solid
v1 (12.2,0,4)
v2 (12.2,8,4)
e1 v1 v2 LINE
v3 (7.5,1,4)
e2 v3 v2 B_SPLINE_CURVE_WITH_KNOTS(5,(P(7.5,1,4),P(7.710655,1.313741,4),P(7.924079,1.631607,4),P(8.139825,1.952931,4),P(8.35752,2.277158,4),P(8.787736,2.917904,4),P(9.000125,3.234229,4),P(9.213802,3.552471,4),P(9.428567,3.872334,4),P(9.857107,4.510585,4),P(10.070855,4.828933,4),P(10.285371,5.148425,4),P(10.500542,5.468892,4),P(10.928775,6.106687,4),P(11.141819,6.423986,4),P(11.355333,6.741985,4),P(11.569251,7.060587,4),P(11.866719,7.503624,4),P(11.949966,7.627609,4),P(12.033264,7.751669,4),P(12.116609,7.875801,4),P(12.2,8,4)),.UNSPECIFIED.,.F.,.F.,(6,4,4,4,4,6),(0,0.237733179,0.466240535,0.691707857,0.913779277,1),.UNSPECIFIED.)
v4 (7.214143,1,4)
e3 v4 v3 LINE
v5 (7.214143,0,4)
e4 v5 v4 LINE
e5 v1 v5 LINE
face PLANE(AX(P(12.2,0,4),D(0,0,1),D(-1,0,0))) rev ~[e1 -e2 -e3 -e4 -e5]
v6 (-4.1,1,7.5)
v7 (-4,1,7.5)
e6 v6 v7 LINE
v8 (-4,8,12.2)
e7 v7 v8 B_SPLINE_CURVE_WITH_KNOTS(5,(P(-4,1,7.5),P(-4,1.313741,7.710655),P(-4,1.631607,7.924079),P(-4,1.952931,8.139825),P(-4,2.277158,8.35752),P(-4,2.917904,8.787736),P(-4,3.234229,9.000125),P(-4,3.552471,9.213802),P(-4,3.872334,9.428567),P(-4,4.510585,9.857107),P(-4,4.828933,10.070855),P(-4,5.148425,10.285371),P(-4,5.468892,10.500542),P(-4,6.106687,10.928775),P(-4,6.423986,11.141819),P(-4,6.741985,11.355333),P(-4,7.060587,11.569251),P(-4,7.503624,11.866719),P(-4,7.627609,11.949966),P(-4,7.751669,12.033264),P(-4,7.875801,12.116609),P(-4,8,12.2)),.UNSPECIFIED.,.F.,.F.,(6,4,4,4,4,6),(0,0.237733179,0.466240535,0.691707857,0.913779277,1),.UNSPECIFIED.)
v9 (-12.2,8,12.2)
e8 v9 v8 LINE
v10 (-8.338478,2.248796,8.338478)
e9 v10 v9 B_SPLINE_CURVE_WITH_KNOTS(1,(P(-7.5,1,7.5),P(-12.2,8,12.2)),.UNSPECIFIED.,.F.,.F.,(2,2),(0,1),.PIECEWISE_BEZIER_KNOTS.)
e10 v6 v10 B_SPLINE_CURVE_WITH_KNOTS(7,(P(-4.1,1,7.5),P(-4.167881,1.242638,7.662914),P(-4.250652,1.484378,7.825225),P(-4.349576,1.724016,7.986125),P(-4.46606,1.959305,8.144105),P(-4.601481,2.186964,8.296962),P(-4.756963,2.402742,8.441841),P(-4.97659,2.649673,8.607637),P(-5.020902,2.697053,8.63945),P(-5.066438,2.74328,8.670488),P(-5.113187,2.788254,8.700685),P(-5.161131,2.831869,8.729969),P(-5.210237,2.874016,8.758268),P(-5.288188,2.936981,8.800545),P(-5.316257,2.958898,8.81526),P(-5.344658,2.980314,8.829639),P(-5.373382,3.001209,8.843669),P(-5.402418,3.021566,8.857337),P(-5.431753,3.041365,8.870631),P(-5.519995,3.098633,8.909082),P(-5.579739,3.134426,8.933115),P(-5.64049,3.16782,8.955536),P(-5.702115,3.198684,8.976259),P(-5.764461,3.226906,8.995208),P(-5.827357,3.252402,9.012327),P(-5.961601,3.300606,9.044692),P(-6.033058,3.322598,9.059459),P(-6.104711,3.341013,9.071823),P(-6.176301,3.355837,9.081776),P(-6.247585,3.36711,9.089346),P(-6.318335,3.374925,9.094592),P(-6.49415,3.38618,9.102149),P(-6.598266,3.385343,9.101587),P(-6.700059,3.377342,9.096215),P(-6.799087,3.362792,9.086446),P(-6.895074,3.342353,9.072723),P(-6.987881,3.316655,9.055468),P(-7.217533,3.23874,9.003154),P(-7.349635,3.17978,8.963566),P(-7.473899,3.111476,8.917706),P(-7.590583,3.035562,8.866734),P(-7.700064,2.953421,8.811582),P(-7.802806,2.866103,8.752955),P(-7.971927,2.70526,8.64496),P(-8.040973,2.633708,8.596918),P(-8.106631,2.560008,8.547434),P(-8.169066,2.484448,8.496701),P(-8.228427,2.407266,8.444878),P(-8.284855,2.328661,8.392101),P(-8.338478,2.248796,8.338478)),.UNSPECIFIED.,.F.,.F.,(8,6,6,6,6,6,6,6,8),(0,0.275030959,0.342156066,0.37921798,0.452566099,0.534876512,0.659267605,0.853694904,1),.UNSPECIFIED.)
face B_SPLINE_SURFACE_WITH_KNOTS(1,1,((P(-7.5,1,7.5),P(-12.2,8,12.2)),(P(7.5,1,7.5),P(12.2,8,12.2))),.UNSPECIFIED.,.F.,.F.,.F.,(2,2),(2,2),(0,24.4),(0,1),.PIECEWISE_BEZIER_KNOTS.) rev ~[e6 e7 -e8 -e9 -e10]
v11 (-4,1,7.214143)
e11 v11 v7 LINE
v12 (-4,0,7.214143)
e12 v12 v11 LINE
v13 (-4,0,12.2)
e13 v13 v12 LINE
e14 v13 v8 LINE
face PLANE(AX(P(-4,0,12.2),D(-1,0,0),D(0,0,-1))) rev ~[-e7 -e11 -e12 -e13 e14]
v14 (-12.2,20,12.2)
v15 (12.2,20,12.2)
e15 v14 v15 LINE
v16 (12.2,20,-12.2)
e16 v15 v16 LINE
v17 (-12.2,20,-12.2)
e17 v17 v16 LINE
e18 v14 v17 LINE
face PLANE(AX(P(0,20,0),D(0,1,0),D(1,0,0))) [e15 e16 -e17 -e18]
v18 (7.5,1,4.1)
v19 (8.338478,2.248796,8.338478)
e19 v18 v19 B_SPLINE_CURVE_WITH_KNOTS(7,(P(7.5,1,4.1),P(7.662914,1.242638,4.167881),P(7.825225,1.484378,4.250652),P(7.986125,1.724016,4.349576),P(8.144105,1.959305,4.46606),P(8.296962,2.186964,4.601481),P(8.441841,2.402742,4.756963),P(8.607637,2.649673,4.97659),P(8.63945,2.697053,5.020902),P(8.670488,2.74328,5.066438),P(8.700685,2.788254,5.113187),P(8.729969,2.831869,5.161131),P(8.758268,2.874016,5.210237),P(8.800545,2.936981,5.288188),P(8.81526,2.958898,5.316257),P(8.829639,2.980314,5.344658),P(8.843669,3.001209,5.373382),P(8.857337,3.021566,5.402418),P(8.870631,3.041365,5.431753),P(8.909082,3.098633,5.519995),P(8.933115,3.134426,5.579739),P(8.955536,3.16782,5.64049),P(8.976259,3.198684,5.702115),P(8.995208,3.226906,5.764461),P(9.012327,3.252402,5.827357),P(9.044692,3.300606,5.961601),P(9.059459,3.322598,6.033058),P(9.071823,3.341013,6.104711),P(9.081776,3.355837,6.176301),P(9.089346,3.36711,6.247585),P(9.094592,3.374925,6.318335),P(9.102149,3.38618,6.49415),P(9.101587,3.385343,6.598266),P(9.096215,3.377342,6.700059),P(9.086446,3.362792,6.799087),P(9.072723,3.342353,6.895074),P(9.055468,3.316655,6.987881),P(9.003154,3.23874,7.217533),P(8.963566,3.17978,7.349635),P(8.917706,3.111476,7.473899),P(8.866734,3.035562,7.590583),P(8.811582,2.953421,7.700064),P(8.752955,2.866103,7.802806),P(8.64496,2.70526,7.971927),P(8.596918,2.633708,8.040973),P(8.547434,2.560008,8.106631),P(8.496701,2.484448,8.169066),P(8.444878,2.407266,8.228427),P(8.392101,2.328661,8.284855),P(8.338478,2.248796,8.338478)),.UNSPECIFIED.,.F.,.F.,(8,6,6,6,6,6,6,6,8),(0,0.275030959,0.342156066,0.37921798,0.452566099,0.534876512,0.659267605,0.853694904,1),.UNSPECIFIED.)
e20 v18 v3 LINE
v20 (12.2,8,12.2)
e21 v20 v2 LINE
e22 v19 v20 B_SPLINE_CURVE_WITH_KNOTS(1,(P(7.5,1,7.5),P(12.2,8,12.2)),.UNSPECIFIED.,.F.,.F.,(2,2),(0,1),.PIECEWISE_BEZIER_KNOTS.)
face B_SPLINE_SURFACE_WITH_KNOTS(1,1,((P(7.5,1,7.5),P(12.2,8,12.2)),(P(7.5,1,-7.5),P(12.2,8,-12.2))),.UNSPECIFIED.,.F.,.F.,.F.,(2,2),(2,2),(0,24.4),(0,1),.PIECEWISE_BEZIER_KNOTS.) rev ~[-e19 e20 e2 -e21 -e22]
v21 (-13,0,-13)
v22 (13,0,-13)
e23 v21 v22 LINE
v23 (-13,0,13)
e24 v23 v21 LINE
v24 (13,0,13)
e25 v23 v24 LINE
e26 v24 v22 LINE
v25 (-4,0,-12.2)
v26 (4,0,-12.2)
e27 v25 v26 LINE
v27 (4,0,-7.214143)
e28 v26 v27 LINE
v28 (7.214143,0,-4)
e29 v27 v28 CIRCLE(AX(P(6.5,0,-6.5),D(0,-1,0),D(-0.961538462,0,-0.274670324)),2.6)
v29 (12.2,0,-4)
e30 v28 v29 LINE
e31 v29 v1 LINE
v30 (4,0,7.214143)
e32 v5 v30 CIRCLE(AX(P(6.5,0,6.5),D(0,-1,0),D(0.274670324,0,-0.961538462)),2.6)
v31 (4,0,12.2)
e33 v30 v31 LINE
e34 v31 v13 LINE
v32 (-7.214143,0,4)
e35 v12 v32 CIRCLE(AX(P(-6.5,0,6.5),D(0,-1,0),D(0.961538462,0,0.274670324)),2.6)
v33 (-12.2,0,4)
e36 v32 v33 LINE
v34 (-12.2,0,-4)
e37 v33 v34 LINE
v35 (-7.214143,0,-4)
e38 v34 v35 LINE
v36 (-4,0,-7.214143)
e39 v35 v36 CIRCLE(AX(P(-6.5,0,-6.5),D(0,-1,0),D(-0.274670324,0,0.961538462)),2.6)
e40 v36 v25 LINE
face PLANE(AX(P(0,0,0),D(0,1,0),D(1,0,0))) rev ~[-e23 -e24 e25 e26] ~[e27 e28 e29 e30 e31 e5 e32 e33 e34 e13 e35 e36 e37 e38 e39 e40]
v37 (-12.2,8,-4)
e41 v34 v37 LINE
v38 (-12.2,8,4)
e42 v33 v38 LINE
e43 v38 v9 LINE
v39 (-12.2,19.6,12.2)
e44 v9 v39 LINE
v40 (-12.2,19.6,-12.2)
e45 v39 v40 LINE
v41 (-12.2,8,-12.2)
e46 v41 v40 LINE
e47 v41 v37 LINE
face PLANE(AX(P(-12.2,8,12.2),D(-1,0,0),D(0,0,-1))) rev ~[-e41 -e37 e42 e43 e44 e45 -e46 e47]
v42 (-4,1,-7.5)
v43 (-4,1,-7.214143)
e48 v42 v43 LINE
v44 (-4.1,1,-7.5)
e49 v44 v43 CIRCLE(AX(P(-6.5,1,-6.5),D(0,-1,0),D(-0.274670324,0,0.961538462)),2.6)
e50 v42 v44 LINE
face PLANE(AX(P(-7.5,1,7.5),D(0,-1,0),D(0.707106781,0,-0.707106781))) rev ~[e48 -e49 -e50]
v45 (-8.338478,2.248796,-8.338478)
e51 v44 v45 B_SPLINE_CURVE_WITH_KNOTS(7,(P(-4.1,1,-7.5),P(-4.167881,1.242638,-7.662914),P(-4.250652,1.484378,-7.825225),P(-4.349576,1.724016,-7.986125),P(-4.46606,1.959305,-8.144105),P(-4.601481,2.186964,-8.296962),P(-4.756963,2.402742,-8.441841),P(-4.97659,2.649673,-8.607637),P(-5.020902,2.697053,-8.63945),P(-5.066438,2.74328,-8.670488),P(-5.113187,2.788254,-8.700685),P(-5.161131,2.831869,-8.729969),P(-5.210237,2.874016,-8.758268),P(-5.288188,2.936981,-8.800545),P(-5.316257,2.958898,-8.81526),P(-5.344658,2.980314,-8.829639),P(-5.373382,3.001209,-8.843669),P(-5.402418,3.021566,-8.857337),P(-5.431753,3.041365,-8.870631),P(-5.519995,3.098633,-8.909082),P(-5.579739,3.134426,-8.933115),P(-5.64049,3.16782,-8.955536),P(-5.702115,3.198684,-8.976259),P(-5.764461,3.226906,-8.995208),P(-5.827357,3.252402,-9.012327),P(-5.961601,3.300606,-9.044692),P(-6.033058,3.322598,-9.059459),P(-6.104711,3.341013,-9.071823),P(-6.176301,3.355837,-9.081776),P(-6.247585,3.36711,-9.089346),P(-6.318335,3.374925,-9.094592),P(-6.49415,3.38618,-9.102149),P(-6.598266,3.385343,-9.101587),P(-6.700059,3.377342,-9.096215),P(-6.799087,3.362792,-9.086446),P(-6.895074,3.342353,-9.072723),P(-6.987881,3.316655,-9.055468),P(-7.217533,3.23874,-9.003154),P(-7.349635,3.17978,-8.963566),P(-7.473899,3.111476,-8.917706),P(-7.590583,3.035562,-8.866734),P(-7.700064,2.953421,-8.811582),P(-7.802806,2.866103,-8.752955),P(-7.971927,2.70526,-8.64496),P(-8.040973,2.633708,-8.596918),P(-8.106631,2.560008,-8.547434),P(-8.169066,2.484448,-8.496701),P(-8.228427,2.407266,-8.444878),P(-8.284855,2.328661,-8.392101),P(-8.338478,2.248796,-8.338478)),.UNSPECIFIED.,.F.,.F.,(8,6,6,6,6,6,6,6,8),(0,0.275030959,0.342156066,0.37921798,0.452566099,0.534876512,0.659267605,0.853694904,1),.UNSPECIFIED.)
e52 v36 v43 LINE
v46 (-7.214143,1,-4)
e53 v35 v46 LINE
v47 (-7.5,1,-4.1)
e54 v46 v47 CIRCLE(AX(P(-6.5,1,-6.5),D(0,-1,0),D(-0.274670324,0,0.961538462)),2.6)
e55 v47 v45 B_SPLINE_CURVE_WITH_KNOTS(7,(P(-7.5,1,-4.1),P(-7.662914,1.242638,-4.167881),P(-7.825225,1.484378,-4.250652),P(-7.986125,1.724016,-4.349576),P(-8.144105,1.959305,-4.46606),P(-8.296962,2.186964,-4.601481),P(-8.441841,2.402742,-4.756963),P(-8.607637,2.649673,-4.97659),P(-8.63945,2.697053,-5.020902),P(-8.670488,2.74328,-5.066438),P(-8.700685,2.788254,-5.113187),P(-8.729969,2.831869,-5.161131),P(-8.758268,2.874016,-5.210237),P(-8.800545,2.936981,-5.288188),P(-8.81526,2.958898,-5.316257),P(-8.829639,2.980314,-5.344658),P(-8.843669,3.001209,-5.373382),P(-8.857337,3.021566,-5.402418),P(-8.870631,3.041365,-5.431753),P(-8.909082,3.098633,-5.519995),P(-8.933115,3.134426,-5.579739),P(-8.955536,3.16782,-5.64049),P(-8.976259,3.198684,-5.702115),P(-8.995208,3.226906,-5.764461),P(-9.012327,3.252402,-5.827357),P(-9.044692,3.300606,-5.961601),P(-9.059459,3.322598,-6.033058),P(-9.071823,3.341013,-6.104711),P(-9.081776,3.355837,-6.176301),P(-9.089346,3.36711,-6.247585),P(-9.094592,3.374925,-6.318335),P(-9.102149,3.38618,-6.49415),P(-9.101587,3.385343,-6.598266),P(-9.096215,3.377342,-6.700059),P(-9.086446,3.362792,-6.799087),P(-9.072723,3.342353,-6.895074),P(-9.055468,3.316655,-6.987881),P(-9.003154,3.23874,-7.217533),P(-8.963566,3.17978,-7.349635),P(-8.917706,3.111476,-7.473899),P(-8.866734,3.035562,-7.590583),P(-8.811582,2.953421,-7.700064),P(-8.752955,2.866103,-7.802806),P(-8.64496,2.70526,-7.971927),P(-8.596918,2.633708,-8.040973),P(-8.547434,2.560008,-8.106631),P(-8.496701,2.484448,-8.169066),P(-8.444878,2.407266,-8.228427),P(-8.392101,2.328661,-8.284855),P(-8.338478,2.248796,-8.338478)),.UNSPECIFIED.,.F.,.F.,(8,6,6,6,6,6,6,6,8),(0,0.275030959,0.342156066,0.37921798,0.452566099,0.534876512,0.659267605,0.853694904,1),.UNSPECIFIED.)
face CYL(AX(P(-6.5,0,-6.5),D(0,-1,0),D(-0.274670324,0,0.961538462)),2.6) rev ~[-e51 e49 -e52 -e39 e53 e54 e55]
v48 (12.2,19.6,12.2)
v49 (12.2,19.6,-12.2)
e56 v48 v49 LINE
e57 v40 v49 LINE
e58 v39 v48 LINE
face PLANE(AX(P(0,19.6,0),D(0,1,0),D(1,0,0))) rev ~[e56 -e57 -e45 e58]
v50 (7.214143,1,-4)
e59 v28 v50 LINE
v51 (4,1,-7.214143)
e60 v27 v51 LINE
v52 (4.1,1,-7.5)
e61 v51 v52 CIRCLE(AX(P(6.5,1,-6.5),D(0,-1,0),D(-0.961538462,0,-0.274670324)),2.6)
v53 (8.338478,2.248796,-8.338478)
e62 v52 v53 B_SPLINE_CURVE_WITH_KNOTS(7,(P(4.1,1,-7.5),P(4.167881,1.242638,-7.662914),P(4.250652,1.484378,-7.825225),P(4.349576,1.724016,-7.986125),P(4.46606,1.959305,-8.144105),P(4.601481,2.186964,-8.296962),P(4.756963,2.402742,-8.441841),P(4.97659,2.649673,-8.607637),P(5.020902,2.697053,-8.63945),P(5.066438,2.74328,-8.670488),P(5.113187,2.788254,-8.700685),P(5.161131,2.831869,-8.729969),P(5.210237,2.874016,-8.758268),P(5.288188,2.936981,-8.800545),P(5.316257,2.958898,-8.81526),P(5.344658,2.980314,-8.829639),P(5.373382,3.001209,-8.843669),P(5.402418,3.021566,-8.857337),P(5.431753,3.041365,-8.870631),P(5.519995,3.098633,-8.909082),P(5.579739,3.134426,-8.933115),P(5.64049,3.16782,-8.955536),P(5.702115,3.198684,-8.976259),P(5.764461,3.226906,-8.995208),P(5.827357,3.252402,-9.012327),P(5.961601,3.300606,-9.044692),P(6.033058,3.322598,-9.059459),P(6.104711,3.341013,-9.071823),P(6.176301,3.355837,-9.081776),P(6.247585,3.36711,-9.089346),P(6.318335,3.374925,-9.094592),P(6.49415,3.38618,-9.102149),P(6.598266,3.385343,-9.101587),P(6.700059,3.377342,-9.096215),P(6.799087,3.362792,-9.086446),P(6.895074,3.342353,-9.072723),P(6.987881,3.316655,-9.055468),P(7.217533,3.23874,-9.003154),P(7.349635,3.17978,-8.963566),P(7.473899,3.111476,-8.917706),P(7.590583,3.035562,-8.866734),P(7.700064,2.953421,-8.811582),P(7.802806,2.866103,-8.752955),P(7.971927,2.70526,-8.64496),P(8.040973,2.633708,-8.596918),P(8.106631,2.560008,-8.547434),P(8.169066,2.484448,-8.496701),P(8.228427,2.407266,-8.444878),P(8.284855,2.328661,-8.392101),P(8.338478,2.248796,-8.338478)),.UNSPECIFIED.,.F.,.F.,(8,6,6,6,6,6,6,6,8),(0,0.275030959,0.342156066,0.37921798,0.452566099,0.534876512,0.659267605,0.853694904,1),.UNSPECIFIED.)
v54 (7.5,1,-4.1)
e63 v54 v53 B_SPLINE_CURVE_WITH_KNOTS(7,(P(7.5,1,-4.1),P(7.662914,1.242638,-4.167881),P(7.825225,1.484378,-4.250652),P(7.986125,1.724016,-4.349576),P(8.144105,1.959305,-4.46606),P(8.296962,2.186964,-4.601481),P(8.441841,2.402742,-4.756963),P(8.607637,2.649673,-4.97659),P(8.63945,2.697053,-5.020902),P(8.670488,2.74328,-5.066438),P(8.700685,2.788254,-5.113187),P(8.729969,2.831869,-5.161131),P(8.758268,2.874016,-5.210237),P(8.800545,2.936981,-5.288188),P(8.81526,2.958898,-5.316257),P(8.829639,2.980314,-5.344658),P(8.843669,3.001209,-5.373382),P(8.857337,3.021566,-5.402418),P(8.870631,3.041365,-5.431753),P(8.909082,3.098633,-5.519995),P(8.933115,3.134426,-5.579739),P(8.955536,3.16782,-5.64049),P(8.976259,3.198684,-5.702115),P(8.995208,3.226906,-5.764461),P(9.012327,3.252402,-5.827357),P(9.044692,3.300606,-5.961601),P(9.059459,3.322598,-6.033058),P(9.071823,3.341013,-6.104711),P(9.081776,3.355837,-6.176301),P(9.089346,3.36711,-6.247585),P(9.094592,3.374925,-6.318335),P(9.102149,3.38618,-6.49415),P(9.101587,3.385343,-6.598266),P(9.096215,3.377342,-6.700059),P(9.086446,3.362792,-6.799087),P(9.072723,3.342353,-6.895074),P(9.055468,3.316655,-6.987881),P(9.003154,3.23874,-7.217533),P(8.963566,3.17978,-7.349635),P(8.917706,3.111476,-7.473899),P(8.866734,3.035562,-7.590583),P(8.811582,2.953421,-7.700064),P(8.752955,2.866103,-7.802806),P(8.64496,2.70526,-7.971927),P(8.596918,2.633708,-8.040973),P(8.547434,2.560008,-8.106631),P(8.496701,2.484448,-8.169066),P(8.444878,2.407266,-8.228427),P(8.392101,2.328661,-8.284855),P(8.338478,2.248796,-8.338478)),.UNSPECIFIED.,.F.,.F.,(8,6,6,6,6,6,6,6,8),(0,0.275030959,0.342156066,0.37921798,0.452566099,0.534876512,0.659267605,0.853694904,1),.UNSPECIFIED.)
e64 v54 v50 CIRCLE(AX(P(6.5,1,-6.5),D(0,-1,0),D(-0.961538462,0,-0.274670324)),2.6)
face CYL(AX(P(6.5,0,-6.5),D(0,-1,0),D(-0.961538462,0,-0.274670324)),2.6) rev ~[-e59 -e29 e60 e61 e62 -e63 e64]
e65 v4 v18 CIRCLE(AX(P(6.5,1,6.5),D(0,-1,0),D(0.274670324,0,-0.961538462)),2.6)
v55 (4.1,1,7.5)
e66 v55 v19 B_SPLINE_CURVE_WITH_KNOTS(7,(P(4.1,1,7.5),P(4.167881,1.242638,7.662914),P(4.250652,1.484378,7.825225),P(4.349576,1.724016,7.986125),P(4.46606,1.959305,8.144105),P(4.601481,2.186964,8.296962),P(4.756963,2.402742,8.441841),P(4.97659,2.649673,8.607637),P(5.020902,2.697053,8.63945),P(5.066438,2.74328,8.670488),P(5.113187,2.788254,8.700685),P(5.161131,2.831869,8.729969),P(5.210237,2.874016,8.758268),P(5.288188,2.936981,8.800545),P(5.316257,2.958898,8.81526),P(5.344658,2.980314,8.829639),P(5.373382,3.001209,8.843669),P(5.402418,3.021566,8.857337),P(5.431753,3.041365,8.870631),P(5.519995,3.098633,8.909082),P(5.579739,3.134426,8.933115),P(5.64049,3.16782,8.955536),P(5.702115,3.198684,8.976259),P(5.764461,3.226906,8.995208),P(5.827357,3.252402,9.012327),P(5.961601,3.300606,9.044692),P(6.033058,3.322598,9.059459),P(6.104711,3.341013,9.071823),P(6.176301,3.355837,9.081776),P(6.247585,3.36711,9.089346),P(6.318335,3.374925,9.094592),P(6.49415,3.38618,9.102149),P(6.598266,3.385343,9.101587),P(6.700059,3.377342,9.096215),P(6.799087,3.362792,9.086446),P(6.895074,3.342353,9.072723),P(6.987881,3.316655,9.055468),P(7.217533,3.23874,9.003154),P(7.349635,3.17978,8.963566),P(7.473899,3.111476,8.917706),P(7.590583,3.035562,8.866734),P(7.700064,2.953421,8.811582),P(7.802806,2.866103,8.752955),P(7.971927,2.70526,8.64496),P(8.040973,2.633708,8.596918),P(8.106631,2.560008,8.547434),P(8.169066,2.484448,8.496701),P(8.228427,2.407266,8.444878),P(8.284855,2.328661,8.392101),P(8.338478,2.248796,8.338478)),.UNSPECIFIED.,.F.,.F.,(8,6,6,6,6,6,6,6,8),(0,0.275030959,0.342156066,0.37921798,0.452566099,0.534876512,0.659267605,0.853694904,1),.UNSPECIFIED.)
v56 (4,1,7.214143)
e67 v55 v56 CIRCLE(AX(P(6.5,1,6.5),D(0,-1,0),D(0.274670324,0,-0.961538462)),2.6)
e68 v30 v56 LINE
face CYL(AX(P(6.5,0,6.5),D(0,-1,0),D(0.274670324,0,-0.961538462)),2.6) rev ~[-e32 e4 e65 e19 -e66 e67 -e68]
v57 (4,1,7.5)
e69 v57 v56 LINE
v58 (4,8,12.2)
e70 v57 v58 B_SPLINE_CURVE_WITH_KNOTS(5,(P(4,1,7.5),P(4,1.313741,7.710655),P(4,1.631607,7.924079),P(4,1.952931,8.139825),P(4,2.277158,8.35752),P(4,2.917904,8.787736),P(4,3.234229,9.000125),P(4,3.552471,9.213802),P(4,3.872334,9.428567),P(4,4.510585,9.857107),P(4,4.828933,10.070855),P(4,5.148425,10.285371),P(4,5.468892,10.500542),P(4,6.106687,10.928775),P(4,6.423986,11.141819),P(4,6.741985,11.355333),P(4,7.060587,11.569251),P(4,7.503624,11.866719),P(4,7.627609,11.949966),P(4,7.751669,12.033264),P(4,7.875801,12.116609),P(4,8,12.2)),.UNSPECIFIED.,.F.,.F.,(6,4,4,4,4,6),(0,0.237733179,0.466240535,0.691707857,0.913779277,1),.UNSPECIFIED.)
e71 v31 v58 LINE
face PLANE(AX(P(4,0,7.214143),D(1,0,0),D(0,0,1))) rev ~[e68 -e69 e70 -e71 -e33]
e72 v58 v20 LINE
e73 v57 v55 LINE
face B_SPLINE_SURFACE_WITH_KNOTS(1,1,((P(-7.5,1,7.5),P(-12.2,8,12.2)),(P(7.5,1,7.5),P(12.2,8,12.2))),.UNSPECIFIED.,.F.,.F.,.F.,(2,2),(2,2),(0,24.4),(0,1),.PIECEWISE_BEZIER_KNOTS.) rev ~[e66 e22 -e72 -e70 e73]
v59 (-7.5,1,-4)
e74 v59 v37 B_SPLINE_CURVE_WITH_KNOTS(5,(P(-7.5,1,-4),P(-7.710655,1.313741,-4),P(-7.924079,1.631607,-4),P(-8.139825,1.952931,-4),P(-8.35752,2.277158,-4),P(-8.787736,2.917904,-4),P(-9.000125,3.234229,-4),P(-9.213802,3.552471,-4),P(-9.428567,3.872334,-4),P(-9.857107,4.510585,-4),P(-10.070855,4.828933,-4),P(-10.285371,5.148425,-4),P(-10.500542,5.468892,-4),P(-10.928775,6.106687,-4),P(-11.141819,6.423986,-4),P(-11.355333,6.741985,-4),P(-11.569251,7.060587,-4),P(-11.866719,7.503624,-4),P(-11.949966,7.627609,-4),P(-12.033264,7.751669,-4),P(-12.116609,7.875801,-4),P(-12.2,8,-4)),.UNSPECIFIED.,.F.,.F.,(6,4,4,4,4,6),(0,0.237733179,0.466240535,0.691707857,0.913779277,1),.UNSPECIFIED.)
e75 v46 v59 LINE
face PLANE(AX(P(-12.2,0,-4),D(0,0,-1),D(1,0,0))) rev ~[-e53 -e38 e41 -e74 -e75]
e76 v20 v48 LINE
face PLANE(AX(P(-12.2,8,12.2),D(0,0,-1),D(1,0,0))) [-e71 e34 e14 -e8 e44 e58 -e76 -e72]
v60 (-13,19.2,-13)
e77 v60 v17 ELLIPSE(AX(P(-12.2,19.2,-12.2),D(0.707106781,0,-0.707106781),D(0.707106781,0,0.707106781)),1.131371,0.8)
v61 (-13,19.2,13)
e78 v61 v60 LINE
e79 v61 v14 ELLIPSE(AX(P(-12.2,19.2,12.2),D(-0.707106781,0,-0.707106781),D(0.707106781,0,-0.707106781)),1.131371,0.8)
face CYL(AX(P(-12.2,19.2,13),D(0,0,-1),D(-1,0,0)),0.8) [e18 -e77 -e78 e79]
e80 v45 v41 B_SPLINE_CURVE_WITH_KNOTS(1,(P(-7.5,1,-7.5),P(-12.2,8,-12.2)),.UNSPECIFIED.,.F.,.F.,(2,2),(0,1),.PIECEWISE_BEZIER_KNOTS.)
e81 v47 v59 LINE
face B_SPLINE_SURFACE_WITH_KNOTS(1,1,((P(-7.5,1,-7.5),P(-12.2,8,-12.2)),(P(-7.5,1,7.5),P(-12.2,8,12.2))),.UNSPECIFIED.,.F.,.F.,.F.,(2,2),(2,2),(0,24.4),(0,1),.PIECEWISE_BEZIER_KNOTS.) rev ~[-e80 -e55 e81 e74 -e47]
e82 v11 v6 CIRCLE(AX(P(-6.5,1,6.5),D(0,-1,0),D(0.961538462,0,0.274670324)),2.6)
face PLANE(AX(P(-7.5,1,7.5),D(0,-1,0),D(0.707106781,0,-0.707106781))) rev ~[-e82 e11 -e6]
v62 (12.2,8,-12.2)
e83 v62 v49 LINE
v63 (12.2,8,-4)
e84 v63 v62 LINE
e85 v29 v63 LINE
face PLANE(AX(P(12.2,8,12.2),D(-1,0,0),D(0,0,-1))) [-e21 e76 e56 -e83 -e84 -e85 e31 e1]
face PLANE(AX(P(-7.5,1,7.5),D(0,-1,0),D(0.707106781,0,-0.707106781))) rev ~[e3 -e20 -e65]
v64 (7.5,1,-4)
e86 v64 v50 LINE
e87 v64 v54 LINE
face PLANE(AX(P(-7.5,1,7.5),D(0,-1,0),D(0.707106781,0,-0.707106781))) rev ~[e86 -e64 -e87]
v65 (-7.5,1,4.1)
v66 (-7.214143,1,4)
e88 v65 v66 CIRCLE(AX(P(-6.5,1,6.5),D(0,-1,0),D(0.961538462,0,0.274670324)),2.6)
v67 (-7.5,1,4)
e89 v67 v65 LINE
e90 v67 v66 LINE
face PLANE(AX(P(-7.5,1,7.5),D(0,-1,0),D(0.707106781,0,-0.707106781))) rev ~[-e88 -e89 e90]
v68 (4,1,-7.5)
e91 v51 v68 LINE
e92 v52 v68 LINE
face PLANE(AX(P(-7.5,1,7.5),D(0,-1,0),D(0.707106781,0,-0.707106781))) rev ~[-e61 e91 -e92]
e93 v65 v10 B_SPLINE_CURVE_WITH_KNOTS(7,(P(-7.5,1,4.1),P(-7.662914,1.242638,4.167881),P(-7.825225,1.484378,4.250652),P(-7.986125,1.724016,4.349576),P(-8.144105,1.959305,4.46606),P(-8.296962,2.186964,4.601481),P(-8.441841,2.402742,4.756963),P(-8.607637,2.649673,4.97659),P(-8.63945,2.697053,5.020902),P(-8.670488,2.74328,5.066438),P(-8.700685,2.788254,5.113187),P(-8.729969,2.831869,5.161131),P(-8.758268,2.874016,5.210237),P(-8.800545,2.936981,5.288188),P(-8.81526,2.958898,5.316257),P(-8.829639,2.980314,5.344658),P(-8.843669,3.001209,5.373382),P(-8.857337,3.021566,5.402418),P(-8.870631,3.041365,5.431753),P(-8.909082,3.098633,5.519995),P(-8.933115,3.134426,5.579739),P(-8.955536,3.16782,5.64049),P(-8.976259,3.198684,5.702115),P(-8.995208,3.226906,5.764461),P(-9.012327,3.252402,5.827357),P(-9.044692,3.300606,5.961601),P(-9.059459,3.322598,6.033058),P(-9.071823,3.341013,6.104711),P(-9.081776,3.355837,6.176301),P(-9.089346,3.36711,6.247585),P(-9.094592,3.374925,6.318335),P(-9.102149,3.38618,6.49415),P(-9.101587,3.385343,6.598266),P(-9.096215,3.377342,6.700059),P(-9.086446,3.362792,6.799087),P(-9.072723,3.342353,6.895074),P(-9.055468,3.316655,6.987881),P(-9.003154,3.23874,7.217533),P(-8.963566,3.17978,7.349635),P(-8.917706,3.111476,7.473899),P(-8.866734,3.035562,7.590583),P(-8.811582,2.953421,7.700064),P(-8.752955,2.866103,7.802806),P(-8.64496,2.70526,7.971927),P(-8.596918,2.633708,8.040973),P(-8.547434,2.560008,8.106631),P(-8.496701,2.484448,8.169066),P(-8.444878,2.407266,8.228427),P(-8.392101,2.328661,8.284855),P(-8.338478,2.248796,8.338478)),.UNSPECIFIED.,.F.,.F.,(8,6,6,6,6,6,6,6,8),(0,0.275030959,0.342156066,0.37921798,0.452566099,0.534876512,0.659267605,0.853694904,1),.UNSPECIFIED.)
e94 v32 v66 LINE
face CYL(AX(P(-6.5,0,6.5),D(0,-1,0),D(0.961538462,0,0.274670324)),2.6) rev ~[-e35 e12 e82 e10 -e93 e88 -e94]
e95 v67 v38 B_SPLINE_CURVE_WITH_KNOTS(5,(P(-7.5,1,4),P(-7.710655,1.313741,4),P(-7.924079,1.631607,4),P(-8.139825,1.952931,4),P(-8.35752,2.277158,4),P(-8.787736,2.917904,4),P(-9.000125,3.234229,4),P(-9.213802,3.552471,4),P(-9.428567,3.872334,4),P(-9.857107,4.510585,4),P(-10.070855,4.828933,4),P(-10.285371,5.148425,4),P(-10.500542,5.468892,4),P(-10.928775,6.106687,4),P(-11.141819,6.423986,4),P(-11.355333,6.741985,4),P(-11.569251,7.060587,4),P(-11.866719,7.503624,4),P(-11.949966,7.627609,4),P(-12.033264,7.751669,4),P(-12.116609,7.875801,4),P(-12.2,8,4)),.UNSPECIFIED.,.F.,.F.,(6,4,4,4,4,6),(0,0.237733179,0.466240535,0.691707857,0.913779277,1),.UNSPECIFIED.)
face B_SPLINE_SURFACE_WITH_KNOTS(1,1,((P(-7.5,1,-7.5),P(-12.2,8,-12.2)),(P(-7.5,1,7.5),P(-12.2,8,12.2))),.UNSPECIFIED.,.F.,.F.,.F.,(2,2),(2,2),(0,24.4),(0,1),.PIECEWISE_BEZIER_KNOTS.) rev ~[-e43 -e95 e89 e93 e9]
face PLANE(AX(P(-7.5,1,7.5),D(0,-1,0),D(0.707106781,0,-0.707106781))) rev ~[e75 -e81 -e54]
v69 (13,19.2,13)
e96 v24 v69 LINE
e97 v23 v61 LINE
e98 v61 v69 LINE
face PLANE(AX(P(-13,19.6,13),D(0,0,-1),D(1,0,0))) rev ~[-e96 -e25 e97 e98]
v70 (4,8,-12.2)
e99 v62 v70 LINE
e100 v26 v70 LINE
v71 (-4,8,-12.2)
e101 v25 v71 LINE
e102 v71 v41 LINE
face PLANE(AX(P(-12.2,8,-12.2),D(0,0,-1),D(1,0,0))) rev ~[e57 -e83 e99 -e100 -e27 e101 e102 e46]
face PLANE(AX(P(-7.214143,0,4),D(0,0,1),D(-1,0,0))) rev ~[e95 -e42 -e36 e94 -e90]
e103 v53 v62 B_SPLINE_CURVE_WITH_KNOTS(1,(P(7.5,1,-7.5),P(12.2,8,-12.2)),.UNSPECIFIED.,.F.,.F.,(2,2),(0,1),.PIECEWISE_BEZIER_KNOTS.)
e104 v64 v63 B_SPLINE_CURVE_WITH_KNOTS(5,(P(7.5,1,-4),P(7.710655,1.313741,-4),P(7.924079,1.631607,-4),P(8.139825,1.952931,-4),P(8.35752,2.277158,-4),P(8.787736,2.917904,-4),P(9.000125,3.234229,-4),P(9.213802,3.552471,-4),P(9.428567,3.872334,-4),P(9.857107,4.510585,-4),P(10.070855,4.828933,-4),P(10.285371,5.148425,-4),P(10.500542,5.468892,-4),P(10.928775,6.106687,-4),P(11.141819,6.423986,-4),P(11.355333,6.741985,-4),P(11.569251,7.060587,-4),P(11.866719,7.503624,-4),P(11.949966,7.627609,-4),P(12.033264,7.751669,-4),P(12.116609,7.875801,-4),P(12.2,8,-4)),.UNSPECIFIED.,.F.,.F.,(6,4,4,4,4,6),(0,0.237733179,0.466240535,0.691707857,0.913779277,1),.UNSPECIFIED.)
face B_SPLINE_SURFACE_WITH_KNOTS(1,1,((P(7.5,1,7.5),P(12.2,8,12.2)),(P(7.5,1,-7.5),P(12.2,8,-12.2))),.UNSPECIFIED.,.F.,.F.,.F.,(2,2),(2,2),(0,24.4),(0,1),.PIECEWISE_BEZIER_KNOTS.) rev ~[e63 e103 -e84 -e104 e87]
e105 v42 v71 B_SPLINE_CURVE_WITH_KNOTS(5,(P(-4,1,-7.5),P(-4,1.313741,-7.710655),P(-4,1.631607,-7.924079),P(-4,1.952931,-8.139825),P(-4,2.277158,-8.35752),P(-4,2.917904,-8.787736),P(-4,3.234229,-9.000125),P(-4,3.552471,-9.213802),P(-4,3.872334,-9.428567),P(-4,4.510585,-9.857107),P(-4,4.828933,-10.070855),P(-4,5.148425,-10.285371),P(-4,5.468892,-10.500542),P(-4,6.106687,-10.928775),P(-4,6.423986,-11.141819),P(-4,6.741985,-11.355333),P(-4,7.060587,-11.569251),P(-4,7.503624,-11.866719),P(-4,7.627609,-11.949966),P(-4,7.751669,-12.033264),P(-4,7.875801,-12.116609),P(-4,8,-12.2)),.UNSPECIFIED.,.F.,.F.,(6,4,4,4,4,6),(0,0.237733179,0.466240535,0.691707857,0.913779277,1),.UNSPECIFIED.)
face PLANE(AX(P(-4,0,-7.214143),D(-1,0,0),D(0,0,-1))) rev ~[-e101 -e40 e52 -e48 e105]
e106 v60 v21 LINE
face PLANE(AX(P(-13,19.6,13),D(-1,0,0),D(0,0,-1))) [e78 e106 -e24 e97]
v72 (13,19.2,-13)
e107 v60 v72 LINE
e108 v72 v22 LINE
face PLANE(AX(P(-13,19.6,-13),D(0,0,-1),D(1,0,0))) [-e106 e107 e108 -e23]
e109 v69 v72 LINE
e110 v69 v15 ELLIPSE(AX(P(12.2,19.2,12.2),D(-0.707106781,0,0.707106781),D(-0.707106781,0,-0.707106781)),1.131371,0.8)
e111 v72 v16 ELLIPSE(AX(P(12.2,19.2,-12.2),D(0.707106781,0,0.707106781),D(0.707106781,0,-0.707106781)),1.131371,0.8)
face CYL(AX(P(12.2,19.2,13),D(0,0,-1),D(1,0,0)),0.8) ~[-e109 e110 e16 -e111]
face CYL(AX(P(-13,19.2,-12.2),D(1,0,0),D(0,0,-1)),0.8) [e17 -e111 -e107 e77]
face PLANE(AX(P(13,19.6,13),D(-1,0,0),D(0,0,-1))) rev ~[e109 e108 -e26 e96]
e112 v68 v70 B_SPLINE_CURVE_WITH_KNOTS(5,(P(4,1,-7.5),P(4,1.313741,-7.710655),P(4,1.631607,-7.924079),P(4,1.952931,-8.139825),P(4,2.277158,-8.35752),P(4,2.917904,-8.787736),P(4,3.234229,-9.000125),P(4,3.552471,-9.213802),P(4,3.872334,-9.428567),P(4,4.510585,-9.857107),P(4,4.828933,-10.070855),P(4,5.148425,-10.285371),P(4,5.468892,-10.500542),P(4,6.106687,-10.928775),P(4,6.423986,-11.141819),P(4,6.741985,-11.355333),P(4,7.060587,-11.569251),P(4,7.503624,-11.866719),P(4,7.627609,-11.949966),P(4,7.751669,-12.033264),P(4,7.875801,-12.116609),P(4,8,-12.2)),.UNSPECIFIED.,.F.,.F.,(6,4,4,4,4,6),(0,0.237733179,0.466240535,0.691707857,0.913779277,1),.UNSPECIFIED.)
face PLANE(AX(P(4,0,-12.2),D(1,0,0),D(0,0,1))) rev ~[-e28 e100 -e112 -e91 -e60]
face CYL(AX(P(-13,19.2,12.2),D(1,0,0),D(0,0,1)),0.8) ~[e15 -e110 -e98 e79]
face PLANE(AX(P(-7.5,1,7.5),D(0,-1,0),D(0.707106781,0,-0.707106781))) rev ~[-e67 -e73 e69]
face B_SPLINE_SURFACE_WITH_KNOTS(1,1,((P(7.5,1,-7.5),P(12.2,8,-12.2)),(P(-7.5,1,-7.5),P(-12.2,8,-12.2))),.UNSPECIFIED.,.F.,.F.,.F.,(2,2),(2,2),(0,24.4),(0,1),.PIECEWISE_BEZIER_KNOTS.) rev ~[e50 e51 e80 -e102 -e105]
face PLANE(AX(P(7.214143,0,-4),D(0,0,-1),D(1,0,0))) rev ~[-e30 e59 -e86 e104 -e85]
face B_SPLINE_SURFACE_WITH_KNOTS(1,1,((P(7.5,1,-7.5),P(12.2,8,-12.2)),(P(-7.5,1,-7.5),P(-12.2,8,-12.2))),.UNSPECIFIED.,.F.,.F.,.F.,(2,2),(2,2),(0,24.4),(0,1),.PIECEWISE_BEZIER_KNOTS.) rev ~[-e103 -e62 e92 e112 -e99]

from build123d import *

# Parameters (mm, degrees)
SKETCH1_W           = 26
SKETCH1_H           = 26
BOSS_EXTRUDE1_DEPTH = 8
SKETCH24_W          = 26
SKETCH24_H          = 26
SKETCH24_W_2        = 24.4
SKETCH24_H_2        = 24.4
BOSS_EXTRUDE5_DEPTH = 11.6
SKETCH27_W          = 26
SKETCH27_H          = 26
BOSS_EXTRUDE7_DEPTH = 0.4
FILLET2_R           = 0.8


with BuildPart() as part:
    # Sketch1 → Boss-Extrude1 (new body)
    with BuildSketch(Plane(origin=(0, 0, 0), x_dir=(1, 0, 0), z_dir=(0, 1, 0))):
        Rectangle(SKETCH1_W, SKETCH1_H)
        with BuildLine():
            Line((-4, 7.214142843), (-4, 12.2))
            Line((-4, 12.2), (4, 12.2))
            Line((4, 12.2), (4, 7.214142843))
            ThreePointArc((4, 7.214142843), (8.338477631, 8.338477631), (7.214142843, 4))
            Line((7.214142843, 4), (12.2, 4))
            Line((12.2, 4), (12.2, -4))
            Line((12.2, -4), (7.214142843, -4))
            ThreePointArc((7.214142843, -4), (8.338477631, -8.338477631), (4, -7.214142843))
            Line((4, -7.214142843), (4, -12.2))
            Line((4, -12.2), (-4, -12.2))
            Line((-4, -12.2), (-4, -7.214142843))
            ThreePointArc((-4, -7.214142843), (-8.338477631, -8.338477631), (-7.214142843, -4))
            Line((-7.214142843, -4), (-12.2, -4))
            Line((-12.2, -4), (-12.2, 4))
            Line((-12.2, 4), (-7.214142843, 4))
            ThreePointArc((-7.214142843, 4), (-8.338477631, 8.338477631), (-4, 7.214142843))
        make_face(mode=Mode.SUBTRACT)
    extrude(amount=BOSS_EXTRUDE1_DEPTH)

    # Sketch21 → Cut-Loft5 section 0
    with BuildSketch(Plane(origin=(0, 1, 0), x_dir=(1, 0, 0), z_dir=(0, 1, 0))):
        with BuildLine():
            Line((-7.5, -7.5), (7.5, -7.5))
            Line((7.5, -7.5), (7.5, 7.5))
            Line((7.5, 7.5), (-7.5, 7.5))
            Line((-7.5, 7.5), (-7.5, -7.5))
        make_face()
    # Sketch22 → Cut-Loft5 section 1
    with BuildSketch(Plane(origin=(0, 8, 0), x_dir=(1, 0, 0), z_dir=(0, 1, 0))):
        with BuildLine():
            Line((-12.2, -12.2), (12.2, -12.2))
            Line((12.2, -12.2), (12.2, 12.2))
            Line((12.2, 12.2), (-12.2, 12.2))
            Line((-12.2, 12.2), (-12.2, -12.2))
        make_face()
    loft(mode=Mode.SUBTRACT)

    # Sketch24 → Boss-Extrude5 (add)
    with BuildSketch(Plane(origin=(0, 8, 0), x_dir=(1, 0, 0), z_dir=(0, 1, 0))):
        Rectangle(SKETCH24_W, SKETCH24_H)
        Rectangle(SKETCH24_W_2, SKETCH24_H_2, mode=Mode.SUBTRACT)
    extrude(amount=BOSS_EXTRUDE5_DEPTH)

    # Sketch27 → Boss-Extrude7 (add)
    with BuildSketch(Plane(origin=(0, 19.6, 0), x_dir=(1, 0, 0), z_dir=(0, 1, 0))):
        Rectangle(SKETCH27_W, SKETCH27_H)
    extrude(amount=BOSS_EXTRUDE7_DEPTH)

    # Fillet2
    fillet2_edges = [part.edges().sort_by_distance(p)[0] for p in [
        (13, 20, 0),
        (0, 20, -13),
        (-13, 20, 0),
        (0, 20, 13),
    ]]
    fillet(fillet2_edges, radius=FILLET2_R)


solid = part.part
